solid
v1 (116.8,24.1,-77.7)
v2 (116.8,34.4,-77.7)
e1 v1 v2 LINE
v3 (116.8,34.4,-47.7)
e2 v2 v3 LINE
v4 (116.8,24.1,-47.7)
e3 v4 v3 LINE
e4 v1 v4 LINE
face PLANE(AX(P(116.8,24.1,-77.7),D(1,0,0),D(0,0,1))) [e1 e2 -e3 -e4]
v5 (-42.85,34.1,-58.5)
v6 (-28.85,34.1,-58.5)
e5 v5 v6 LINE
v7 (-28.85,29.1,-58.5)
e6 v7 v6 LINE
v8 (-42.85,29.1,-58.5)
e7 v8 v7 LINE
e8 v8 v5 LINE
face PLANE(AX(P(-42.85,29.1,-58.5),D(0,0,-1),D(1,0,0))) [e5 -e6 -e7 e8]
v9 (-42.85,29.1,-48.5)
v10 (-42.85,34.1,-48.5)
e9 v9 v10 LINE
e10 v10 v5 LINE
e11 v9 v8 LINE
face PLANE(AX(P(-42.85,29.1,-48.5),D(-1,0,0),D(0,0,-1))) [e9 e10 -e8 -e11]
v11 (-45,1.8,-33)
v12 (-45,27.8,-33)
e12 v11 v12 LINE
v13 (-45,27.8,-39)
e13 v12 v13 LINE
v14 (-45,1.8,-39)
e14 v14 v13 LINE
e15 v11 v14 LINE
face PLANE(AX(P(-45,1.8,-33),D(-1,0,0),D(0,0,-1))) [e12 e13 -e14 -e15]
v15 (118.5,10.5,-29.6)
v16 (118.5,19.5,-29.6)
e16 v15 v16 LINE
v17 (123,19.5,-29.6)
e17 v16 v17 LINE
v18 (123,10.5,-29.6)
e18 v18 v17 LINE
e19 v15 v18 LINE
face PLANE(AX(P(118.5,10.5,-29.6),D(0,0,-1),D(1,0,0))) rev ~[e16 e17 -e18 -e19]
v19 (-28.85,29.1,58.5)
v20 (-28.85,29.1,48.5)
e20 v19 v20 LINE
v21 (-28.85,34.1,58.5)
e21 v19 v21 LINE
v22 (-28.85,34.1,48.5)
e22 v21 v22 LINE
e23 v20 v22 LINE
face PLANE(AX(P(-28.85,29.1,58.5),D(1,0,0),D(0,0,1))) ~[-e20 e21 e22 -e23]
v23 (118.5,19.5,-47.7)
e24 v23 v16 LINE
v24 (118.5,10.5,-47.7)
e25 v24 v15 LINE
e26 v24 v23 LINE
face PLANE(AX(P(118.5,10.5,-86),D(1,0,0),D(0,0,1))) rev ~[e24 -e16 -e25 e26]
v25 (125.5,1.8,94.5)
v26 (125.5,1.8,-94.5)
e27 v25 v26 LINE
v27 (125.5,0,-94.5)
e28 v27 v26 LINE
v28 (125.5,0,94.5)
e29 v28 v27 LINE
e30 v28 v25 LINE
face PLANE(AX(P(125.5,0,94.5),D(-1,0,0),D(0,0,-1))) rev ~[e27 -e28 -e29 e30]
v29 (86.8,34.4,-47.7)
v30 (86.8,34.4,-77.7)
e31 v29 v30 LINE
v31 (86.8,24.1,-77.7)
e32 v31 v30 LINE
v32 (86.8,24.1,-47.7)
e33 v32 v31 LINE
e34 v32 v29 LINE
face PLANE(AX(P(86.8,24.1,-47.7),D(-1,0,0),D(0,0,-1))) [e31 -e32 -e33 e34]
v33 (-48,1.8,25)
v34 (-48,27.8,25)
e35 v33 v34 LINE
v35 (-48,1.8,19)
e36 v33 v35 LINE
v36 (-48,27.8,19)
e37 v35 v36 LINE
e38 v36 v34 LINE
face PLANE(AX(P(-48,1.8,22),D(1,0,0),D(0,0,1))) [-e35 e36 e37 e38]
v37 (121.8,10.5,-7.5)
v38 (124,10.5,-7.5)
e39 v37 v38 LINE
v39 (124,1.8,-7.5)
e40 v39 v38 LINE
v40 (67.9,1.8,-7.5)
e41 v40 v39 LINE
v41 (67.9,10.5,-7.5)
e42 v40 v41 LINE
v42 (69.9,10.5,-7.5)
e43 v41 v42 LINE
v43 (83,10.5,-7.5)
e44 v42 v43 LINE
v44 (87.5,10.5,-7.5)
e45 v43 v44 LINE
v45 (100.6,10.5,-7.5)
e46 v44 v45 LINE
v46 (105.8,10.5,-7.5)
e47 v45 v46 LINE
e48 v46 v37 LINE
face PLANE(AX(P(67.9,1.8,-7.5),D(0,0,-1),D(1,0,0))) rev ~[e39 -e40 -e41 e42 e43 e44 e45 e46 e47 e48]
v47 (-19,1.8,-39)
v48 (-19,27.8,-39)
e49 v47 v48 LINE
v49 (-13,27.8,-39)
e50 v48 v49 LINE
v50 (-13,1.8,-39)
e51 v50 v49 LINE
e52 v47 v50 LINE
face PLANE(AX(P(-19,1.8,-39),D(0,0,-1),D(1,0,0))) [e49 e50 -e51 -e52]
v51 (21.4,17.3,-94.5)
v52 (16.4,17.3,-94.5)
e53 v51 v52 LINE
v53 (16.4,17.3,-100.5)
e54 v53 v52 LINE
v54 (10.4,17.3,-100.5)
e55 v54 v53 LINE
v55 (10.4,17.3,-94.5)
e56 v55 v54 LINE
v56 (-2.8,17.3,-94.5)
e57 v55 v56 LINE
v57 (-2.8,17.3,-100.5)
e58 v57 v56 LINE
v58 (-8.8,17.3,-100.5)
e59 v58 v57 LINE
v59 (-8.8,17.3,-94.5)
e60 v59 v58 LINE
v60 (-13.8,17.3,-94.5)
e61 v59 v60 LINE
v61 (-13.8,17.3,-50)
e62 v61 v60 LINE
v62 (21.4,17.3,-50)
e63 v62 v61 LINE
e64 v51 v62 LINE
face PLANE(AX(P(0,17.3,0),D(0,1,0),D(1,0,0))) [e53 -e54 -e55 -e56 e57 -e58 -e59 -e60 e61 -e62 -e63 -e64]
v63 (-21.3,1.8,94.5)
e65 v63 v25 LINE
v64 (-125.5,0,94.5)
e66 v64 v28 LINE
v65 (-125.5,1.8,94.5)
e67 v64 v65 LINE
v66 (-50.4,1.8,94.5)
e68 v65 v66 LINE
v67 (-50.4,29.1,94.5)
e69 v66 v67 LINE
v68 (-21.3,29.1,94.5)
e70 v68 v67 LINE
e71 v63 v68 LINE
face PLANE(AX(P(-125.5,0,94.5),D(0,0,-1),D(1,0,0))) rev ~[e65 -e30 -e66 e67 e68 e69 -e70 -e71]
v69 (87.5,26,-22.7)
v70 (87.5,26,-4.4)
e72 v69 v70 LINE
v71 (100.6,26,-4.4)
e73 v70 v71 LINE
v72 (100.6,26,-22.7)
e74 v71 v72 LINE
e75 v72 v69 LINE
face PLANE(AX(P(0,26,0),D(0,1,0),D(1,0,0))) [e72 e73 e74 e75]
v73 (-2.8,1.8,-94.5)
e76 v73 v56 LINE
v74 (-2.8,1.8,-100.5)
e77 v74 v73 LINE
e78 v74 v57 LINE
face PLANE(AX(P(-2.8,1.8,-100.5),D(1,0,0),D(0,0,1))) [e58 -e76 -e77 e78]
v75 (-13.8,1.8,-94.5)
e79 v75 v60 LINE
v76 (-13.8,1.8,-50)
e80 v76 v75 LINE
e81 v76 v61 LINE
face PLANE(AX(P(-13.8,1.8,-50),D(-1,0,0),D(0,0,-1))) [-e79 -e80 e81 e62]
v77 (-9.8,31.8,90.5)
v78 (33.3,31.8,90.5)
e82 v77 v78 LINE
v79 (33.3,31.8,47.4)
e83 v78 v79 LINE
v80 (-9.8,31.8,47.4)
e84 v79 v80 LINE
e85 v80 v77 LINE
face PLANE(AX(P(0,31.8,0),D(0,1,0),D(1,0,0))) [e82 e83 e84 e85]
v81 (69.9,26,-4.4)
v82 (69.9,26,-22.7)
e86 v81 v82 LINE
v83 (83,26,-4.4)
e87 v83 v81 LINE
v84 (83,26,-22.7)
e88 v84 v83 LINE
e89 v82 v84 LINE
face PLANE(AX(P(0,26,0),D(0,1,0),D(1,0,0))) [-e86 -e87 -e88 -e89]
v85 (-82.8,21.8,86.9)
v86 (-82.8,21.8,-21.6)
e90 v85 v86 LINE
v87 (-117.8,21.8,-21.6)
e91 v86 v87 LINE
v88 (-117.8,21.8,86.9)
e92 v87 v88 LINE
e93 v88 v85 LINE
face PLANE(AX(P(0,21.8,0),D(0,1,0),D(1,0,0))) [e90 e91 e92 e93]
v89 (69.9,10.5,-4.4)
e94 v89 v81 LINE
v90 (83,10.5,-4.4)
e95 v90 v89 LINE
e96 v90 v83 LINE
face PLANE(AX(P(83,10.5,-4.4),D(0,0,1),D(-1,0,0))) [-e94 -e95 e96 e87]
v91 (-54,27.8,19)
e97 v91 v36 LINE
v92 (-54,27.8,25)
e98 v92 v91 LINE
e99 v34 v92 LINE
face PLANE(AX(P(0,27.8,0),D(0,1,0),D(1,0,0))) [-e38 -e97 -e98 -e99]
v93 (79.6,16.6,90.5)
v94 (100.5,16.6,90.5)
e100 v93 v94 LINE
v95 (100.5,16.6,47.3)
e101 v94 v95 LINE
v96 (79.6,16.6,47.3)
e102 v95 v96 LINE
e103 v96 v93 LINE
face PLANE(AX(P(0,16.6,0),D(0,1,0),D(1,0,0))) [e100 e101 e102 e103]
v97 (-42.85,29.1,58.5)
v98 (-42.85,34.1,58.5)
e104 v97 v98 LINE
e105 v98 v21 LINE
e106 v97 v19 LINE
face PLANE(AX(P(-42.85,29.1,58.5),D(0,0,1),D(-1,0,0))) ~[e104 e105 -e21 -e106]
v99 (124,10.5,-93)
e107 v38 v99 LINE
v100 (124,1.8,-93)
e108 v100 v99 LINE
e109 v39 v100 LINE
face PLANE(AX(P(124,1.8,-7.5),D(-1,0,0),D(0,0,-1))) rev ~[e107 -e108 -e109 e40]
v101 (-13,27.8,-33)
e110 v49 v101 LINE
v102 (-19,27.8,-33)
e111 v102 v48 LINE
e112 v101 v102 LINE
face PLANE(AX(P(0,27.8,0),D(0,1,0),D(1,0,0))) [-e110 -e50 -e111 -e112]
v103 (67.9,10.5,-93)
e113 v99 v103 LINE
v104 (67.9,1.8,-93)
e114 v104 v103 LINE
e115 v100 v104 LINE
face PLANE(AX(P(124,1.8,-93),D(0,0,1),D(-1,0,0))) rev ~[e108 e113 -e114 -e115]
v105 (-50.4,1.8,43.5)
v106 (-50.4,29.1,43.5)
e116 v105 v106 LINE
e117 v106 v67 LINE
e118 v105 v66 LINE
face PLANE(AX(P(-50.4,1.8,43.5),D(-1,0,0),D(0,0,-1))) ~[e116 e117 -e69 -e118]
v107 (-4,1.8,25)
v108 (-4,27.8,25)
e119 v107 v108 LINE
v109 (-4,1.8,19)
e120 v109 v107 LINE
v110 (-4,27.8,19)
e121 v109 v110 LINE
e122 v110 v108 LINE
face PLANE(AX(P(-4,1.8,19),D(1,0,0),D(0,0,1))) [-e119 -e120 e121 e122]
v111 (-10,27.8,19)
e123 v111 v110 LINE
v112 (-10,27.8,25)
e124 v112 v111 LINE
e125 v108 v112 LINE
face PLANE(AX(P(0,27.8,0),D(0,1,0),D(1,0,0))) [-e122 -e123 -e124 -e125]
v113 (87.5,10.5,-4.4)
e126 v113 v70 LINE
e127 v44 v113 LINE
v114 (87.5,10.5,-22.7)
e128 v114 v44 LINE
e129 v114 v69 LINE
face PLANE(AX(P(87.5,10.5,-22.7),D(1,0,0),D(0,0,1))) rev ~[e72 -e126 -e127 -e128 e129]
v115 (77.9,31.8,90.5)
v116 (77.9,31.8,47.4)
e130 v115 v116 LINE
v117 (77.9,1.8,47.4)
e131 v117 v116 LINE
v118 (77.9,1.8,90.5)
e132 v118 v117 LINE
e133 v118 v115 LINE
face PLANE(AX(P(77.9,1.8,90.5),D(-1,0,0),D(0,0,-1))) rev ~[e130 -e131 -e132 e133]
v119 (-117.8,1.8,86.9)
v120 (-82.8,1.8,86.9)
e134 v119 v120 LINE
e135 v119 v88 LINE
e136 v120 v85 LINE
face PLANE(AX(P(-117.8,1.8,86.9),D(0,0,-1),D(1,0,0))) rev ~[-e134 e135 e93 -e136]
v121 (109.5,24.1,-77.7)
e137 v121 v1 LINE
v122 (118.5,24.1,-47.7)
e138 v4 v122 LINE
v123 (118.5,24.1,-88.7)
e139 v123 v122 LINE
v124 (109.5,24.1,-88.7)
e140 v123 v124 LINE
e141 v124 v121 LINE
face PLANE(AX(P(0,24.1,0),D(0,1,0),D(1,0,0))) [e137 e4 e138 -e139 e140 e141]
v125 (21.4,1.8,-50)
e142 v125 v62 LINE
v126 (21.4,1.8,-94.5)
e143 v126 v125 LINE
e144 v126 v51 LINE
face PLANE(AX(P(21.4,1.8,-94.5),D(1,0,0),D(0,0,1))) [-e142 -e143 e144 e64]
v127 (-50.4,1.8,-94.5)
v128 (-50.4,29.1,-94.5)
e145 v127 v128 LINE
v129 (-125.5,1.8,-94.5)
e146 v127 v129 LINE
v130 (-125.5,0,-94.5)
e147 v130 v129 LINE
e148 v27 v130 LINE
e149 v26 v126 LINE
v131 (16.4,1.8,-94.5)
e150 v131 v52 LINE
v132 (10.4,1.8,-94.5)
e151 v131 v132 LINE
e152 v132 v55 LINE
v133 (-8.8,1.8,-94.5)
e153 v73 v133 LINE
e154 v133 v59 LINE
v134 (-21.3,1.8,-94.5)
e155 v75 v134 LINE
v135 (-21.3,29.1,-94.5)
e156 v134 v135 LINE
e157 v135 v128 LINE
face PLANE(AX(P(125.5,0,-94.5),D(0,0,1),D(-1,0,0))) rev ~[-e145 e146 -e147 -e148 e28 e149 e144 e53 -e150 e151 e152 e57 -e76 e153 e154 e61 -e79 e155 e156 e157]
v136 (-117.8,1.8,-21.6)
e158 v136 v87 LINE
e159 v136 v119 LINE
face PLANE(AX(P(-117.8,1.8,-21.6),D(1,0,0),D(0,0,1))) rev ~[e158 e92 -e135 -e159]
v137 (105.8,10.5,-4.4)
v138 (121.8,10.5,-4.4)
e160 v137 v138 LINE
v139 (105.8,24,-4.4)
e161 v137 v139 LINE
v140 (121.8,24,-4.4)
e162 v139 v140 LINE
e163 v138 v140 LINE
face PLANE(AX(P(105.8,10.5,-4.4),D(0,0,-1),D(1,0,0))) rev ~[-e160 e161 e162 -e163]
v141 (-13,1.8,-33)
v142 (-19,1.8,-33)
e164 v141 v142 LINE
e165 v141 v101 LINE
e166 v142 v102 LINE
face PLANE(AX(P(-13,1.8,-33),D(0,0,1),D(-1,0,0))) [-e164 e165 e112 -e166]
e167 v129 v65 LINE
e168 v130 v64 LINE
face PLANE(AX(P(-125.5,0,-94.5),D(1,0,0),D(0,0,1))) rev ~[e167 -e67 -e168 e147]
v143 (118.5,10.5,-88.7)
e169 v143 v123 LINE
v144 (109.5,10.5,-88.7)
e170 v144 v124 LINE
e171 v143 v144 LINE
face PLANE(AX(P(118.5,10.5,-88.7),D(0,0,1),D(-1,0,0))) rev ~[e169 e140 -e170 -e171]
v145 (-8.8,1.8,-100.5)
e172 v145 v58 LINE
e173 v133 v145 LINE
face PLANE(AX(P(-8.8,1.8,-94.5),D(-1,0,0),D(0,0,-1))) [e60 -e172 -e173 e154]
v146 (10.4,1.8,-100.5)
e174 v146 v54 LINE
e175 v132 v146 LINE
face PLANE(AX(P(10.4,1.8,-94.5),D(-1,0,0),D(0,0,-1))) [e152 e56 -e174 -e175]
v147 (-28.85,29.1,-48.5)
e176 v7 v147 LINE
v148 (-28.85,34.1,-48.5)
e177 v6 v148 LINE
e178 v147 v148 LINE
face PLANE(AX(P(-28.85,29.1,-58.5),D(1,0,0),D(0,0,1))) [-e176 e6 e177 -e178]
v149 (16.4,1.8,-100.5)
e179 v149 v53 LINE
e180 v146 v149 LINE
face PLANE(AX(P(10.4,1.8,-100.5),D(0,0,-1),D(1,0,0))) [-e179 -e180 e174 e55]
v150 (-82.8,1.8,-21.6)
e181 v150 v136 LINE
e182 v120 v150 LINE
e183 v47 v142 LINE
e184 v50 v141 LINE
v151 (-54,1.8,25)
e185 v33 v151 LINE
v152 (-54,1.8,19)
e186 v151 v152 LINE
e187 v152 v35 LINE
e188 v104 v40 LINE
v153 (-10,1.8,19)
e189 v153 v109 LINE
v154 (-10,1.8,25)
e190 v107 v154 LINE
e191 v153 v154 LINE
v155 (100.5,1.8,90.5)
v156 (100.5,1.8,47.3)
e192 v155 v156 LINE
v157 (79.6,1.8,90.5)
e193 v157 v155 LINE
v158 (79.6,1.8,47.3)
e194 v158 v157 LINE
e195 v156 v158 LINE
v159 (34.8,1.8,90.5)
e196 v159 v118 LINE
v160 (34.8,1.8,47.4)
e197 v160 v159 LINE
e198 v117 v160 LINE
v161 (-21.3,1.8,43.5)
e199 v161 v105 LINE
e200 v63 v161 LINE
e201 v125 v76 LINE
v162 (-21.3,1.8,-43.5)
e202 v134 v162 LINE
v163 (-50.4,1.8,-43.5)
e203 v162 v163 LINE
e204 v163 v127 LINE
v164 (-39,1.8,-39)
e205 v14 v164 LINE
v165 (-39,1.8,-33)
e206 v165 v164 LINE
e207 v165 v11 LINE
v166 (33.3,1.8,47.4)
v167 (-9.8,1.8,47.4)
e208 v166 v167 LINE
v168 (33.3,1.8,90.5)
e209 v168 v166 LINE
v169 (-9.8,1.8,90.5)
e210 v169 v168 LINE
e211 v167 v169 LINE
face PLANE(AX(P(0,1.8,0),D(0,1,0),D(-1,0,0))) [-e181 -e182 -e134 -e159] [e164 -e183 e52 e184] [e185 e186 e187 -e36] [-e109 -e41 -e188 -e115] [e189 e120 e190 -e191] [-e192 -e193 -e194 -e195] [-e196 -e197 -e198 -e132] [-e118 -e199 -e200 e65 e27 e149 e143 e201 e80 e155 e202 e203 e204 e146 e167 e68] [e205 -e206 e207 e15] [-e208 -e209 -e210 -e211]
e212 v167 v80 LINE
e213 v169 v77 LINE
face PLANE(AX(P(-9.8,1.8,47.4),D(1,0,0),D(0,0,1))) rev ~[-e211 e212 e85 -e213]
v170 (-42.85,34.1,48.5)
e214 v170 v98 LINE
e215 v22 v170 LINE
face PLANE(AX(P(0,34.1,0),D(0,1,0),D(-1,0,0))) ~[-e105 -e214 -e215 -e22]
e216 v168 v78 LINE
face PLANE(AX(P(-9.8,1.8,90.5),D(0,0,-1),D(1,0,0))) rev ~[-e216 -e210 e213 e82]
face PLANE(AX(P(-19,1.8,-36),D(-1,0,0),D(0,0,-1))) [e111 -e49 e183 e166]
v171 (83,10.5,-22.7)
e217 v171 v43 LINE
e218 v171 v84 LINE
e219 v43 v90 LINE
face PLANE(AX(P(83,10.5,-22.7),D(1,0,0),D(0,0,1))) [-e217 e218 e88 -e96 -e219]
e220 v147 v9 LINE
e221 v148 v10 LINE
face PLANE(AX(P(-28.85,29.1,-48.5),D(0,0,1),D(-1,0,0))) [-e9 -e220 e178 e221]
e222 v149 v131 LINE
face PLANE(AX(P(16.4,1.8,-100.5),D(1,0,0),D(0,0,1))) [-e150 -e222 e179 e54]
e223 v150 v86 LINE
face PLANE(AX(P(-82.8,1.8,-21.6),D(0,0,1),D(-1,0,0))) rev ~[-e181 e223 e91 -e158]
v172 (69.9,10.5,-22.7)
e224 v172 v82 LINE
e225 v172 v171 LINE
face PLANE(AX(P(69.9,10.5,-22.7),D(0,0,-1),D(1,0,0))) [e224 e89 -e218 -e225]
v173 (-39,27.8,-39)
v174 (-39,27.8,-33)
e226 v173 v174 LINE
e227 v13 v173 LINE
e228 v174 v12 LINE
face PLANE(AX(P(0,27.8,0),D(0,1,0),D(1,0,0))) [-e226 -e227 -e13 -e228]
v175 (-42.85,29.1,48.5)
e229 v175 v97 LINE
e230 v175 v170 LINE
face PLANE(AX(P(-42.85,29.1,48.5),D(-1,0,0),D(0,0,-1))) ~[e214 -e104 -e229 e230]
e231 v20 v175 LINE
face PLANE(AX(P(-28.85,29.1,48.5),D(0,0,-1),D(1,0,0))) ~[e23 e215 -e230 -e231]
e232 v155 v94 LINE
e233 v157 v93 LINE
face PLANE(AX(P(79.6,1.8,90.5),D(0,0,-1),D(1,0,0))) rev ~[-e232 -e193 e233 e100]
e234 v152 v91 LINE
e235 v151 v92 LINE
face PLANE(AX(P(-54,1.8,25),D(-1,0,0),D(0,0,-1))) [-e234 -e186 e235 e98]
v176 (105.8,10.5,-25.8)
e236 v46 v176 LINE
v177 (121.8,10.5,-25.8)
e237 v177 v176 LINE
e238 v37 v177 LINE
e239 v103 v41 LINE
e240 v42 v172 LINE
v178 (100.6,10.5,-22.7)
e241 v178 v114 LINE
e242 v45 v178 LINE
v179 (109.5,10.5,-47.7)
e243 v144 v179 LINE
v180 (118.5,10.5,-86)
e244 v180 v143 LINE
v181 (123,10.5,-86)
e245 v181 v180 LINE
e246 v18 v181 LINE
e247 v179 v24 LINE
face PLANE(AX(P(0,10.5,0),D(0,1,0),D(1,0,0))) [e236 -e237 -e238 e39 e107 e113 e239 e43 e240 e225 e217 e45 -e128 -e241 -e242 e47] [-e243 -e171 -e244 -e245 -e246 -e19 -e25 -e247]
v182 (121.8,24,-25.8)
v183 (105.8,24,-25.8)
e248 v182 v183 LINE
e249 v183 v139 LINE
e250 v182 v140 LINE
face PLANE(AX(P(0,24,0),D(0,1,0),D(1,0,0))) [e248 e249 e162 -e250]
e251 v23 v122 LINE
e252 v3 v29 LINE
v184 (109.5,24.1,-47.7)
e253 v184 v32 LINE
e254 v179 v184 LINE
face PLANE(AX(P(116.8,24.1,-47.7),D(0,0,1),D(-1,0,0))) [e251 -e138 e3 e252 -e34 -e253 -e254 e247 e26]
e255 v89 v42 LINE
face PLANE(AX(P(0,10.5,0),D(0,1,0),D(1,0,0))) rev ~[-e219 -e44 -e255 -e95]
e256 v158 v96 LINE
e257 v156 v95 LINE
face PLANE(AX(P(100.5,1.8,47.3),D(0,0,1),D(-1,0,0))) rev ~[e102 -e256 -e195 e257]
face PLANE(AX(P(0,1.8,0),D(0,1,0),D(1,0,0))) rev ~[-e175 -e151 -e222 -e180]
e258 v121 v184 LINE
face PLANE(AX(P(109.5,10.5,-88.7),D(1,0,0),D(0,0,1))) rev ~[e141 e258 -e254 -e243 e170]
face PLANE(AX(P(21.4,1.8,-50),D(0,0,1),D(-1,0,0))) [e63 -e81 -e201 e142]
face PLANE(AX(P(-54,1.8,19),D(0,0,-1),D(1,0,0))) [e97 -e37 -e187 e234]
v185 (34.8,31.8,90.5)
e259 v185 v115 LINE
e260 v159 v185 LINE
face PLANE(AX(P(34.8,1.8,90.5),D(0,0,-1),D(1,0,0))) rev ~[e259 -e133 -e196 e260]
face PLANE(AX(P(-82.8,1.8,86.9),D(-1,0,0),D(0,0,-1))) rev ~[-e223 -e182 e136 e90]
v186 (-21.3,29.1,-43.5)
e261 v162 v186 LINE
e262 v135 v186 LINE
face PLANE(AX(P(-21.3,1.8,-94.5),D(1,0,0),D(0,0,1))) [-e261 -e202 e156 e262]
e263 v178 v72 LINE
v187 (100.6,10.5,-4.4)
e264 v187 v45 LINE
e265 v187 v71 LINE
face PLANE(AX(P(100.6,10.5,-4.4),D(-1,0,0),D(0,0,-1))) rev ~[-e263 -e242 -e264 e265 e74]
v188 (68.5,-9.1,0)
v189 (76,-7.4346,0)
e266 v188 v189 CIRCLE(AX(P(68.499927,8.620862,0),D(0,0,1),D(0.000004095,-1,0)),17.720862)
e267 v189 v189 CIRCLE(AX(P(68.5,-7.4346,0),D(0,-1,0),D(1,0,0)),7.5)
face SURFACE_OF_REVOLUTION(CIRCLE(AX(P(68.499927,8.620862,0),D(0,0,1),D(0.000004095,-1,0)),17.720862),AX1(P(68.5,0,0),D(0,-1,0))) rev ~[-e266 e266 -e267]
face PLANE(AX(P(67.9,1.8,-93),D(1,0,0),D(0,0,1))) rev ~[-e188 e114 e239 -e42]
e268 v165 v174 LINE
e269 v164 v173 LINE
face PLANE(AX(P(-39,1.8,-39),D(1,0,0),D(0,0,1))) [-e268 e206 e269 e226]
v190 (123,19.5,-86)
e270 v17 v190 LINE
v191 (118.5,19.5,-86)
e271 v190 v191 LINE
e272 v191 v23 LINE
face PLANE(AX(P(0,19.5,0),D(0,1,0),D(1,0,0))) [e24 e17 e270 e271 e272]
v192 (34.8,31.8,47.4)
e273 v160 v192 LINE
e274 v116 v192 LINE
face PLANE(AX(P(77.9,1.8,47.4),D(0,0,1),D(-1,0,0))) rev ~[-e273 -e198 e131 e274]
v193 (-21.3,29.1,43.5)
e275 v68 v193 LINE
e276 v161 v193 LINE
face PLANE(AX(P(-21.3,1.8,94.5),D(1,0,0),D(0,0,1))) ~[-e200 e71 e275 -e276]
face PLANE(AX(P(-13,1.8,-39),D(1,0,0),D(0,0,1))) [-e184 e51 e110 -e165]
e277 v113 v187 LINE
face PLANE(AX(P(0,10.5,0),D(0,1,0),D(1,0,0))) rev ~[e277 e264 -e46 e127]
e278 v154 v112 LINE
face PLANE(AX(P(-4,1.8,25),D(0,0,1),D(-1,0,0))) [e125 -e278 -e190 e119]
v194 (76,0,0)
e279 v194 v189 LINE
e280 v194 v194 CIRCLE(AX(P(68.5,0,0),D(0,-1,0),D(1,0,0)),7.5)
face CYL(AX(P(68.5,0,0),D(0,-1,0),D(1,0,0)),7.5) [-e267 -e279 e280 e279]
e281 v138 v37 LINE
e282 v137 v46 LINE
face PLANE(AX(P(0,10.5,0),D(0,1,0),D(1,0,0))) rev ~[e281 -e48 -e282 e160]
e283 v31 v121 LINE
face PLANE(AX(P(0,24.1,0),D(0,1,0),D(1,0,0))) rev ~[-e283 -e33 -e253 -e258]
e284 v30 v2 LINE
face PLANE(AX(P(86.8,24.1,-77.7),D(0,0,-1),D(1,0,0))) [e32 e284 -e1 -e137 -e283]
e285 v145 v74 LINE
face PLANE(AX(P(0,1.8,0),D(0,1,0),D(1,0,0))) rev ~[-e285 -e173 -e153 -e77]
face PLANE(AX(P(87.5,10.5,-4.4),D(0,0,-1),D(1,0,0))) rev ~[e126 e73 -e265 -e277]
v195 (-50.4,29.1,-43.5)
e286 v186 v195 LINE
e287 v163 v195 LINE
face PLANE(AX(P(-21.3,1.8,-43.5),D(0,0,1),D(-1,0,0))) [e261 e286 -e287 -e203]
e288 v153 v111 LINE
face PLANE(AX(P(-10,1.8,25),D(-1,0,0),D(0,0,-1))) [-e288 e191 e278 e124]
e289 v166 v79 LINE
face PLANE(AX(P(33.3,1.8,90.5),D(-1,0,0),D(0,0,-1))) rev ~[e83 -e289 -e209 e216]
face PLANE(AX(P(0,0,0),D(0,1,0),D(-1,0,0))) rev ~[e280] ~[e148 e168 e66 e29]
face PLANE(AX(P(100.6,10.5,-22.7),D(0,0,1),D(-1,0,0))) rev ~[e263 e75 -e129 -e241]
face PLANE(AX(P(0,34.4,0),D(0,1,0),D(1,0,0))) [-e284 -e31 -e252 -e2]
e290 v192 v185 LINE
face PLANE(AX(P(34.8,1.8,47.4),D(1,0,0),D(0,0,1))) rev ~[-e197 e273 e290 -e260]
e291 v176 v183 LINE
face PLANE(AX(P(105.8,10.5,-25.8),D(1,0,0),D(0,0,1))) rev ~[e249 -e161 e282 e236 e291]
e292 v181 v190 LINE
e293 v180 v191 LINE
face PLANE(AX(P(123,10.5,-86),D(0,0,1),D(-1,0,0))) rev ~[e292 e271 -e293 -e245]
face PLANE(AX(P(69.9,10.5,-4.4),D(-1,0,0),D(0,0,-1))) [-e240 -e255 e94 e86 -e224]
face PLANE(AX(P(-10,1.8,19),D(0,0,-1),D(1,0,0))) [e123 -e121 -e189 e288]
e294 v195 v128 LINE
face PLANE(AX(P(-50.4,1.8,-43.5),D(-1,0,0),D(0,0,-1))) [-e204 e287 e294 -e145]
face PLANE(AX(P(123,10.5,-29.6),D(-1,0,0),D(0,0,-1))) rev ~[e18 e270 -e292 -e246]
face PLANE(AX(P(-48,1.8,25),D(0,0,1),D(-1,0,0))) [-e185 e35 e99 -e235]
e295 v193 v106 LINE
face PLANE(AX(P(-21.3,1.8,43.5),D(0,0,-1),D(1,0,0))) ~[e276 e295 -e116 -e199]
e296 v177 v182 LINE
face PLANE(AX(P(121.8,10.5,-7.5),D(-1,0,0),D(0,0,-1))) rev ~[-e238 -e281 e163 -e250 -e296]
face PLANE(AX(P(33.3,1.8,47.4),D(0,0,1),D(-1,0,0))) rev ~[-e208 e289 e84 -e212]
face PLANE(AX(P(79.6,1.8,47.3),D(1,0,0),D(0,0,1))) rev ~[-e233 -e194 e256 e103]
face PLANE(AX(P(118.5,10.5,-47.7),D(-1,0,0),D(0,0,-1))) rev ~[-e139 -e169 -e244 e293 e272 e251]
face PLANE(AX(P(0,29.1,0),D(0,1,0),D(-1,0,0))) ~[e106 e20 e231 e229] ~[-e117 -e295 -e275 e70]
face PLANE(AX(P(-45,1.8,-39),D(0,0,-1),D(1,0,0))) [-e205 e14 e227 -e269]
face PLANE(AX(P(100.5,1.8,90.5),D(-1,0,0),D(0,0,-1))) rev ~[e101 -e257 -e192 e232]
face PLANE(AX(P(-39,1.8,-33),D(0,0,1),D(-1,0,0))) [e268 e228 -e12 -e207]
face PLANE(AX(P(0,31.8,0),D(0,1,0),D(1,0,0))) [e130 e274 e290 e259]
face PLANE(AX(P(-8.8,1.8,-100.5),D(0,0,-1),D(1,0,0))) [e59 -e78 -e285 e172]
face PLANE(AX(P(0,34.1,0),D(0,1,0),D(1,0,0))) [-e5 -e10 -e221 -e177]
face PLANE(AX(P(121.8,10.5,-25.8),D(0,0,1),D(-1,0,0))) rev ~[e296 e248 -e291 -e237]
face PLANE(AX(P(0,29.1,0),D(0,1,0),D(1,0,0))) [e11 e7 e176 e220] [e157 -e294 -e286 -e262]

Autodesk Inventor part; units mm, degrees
ref_plane "YZ Plane" through (0, 0, 0) normal (1, 0, 0) x (0, 1, 0)
ref_plane "XZ Plane" through (0, 0, 0) normal (0, 1, 0) x (-1, 0, 0)
ref_plane "XY Plane" through (0, 0, 0) normal (0, 0, 1) x (1, 0, 0)
sketch "Esquisse1" plane through (0, 0, 0) normal (0, 1, 0) x (-1, 0, 0)
  line L0 (125.5, 94.5) -> (-125.5, 94.5)
  line L1 (-125.5, 94.5) -> (-125.5, -94.5)
  line L2 (-125.5, -94.5) -> (125.5, -94.5)
  line L3 (125.5, -94.5) -> (125.5, 94.5)
  line L4 (125.5, 94.5) -> (-125.5, -94.5) construction
  line L5 (-125.5, 94.5) -> (125.5, -94.5) construction
  point P0 (0, 0)
  dimension "d0" = 251
  dimension "d1" = 189
extrude "Extrusion1" add sketch "Esquisse1" along normal blind 1.8
sketch "Esquisse2" plane through (0, 1.8, 0) normal (0, 1, 0) x (1, 0, 0)
  line L0 (124, 93) -> (67.9, 93)
  line L1 (67.9, 93) -> (67.9, 7.5)
  line L2 (67.9, 7.5) -> (124, 7.5)
  line L3 (124, 7.5) -> (124, 93)
  line L4 (125.5, 94.5) -> (-125.5, 94.5) projected
  line L5 (125.5, -94.5) -> (125.5, 94.5) projected
  point P0 (0, 0)
  dimension "d4" = 1.5
  dimension "d5" = 1.5
  dimension "d6" = 56.1
  dimension "d7" = 85.5
extrude "Extrusion2" add sketch "Esquisse2" along normal blind 8.7
sketch "Esquisse3" plane through (0, 10.5, 0) normal (0, 1, 0) x (1, 0, 0)
  line L0 (121.8, 25.8) -> (105.8, 25.8)
  line L1 (105.8, 25.8) -> (105.8, 4.4)
  line L2 (105.8, 4.4) -> (121.8, 4.4)
  line L3 (121.8, 4.4) -> (121.8, 25.8)
  line L4 (124, 7.5) -> (124, 93) projected
  line L5 (67.9, 7.5) -> (124, 7.5) projected
  point P0 (0, 0)
  dimension "d10" = 21.4
  dimension "d11" = 16
  dimension "d12" = 2.2
  dimension "d13" = 3.1
extrude "Extrusion3" add sketch "Esquisse3" along normal blind 13.5
sketch "Esquisse4" plane through (0, 10.5, 0) normal (0, 1, 0) x (1, 0, 0)
  line L0 (69.9, 22.7) -> (83, 22.7)
  line L1 (83, 22.7) -> (83, 4.4)
  line L2 (83, 4.4) -> (69.9, 4.4)
  line L3 (69.9, 4.4) -> (69.9, 22.7)
  line L4 (67.9, 93) -> (67.9, 7.5) projected
  line L5 (105.8, 4.4) -> (121.8, 4.4) projected
  line L6 (87.5, 4.4) -> (100.6, 4.4)
  line L7 (100.6, 4.4) -> (100.6, 22.7)
  line L8 (100.6, 22.7) -> (87.5, 22.7)
  line L9 (87.5, 22.7) -> (87.5, 4.4)
  point P0 (0, 0)
  point P1 (76.45, 4.4)
  point P2 (76.45, 22.7)
  dimension "d16" = 13.1
  dimension "d17" = 18.3
  dimension "d18" = 2
  dimension "d19" = 4.5
  dimension "d20" = 13.1
extrude "Extrusion4" add sketch "Esquisse4" along normal blind 15.5
sketch "Esquisse5" plane through (0, 10.5, 0) normal (0, 1, 0) x (1, 0, 0)
  line L0 (123, 86) -> (118.5, 86)
  line L1 (118.5, 86) -> (118.5, 29.6)
  line L2 (118.5, 29.6) -> (123, 29.6)
  line L3 (123, 29.6) -> (123, 86)
  line L4 (124, 7.5) -> (124, 93) projected
  line L5 (124, 93) -> (67.9, 93) projected
  point P0 (0, 0)
  dimension "d23" = 56.4
  dimension "d24" = 4.5
  dimension "d25" = 1
  dimension "d26" = 7
extrude "Extrusion5" add sketch "Esquisse5" along normal blind 9
sketch "Esquisse6" plane through (0, 10.5, 0) normal (0, 1, 0) x (1, 0, 0)
  line L0 (118.5, 29.6) -> (118.5, 86) projected
  line L1 (118.5, 86) -> (118.5, 88.7)
  line L2 (118.5, 88.7) -> (109.5, 88.7)
  line L3 (109.5, 88.7) -> (109.5, 47.7)
  line L4 (109.5, 47.7) -> (118.5, 47.7)
  line L5 (124, 93) -> (67.9, 93) projected
  point P0 (0, 0)
  dimension "d29" = 9
  dimension "d30" = 41
  dimension "d31" = 4.3
extrude "Extrusion6" add sketch "Esquisse6" along normal blind 13.6
sketch "Esquisse7" plane through (0, 24.1, 0) normal (0, 1, 0) x (1, 0, 0)
  line L0 (118.5, 47.7) -> (109.5, 47.7) projected
  line L1 (116.8, 47.7) -> (86.8, 47.7)
  line L2 (86.8, 47.7) -> (86.8, 77.7)
  line L3 (86.8, 77.7) -> (116.8, 77.7)
  line L4 (116.8, 77.7) -> (116.8, 47.7)
  line L5 (118.5, 47.7) -> (118.5, 88.7) projected
  point P0 (0, 0)
  dimension "d34" = 30
  dimension "d35" = 30
  dimension "d36" = 1.7
extrude "Extrusion7" add sketch "Esquisse7" along normal blind 10.3
sketch "Esquisse8" plane through (0, 1.8, 0) normal (0, 1, 0) x (1, 0, 0)
  line L0 (125.5, 94.5) -> (-125.5, 94.5) projected
  line L1 (-50.4, 94.5) -> (-21.3, 94.5)
  line L2 (-21.3, 94.5) -> (-21.3, 43.5)
  line L3 (-21.3, 43.5) -> (-50.4, 43.5)
  line L4 (-50.4, 43.5) -> (-50.4, 94.5)
  line L5 (-125.5, 94.5) -> (-125.5, -94.5) projected
  point P0 (0, 0)
  dimension "d39" = 75.1
  dimension "d40" = 29.1
  dimension "d41" = 51
extrude "Extrusion8" add sketch "Esquisse8" along normal blind 27.3
sketch "Esquisse9" plane through (0, 29.1, 0) normal (0, 1, 0) x (1, 0, 0)
  line L0 (-28.85, 48.5) -> (-42.85, 48.5)
  line L1 (-42.85, 48.5) -> (-42.85, 58.5)
  line L2 (-42.85, 58.5) -> (-28.85, 58.5)
  line L3 (-28.85, 58.5) -> (-28.85, 48.5)
  line L4 (-21.3, 43.5) -> (-21.3, 94.5) projected
  line L5 (-50.4, 94.5) -> (-50.4, 43.5) projected
  line L6 (-21.3, 94.5) -> (-50.4, 94.5) projected
  point P0 (0, 0)
  dimension "d44" = 10
  dimension "d45" = 14
  dimension "d46" = 7.55
  dimension "d47" = 7.55
  dimension "d48" = 36
extrude "Extrusion9" add sketch "Esquisse9" along normal blind 5
mirror "Symétrie1" about plane through (0, 0, 0) normal (0, 0, 1) of "Extrusion8", "Extrusion9"
sketch "Esquisse10" plane through (0, 1.8, 0) normal (0, 1, 0) x (1, 0, 0)
  line L0 (125.5, 94.5) -> (-21.3, 94.5) projected
  line L1 (-13.8, 94.5) -> (21.4, 94.5)
  line L2 (21.4, 94.5) -> (21.4, 50)
  line L3 (21.4, 50) -> (-13.8, 50)
  line L4 (-13.8, 50) -> (-13.8, 94.5)
  line L5 (16.4, 94.5) -> (10.4, 94.5)
  line L6 (10.4, 94.5) -> (10.4, 100.5)
  line L7 (10.4, 100.5) -> (16.4, 100.5)
  line L8 (16.4, 100.5) -> (16.4, 94.5)
  line L9 (-2.8, 94.5) -> (-8.8, 94.5)
  line L10 (-8.8, 94.5) -> (-8.8, 100.5)
  line L11 (-8.8, 100.5) -> (-2.8, 100.5)
  line L12 (-2.8, 100.5) -> (-2.8, 94.5)
  line L13 (-21.3, 43.5) -> (-21.3, 94.5) projected
  point P0 (0, 0)
  point P1 (21.4, 94.5)
  point P2 (-2.8, 94.5)
  point P3 (-8.8, 94.5)
  dimension "d51" = 44.5
  dimension "d52" = 35.2
  dimension "d53" = 6
  dimension "d54" = 6
  dimension "d55" = 6
  dimension "d56" = 5
  dimension "d57" = 5
  dimension "d115" = 7.5
extrude "Extrusion10" add sketch "Esquisse10" along normal blind 15.5
sketch "Esquisse11" plane through (0, 1.8, 0) normal (0, 1, 0) x (1, 0, 0)
  line L0 (-9.8, -90.5) -> (33.3, -90.5)
  line L1 (33.3, -90.5) -> (33.3, -47.4)
  line L2 (33.3, -47.4) -> (-9.8, -47.4)
  line L3 (-9.8, -47.4) -> (-9.8, -90.5)
  line L4 (34.8, -90.5) -> (77.9, -90.5)
  line L5 (77.9, -90.5) -> (77.9, -47.4)
  line L6 (77.9, -47.4) -> (34.8, -47.4)
  line L7 (34.8, -47.4) -> (34.8, -90.5)
  line L8 (-21.3, -94.5) -> (125.5, -94.5) projected
  line L9 (-21.3, -43.5) -> (-21.3, -94.5) projected
  point P0 (0, 0)
  dimension "d60" = 43.1
  dimension "d61" = 43.1
  dimension "d62" = 43.1
  dimension "d63" = 4
  dimension "d64" = 1.5
  dimension "d65" = 11.5
extrude "Extrusion11" add sketch "Esquisse11" along normal blind 30
sketch "Esquisse12" plane through (0, 1.8, 0) normal (0, 1, 0) x (1, 0, 0)
  line L0 (-117.8, -86.9) -> (-82.8, -86.9)
  line L1 (-82.8, -86.9) -> (-82.8, 21.6)
  line L2 (-82.8, 21.6) -> (-117.8, 21.6)
  line L3 (-117.8, 21.6) -> (-117.8, -86.9)
  line L4 (-125.5, -94.5) -> (-50.4, -94.5) projected
  line L5 (-125.5, 94.5) -> (-125.5, -94.5) projected
  point P0 (0, 0)
  dimension "d68" = 108.5
  dimension "d69" = 35
  dimension "d70" = 7.6
  dimension "d71" = 7.7
extrude "Extrusion12" add sketch "Esquisse12" along normal blind 20
sketch "Esquisse13" plane through (0, 1.8, 0) normal (0, 1, 0) x (1, 0, 0)
  line L0 (-21.3, -43.5) -> (-21.3, -94.5) projected
  line L1 (-4, -25) -> (-10, -25)
  line L2 (-10, -25) -> (-10, -19)
  line L3 (-10, -19) -> (-4, -19)
  line L4 (-4, -19) -> (-4, -25)
  line L5 (-4, -25) -> (-10, -19) construction
  line L6 (-10, -25) -> (-4, -19) construction
  line L7 (-48, -25) -> (-54, -25)
  line L8 (-54, -25) -> (-54, -19)
  line L9 (-54, -19) -> (-48, -19)
  line L10 (-48, -19) -> (-48, -25)
  line L11 (-48, -25) -> (-54, -19) construction
  line L12 (-54, -25) -> (-48, -19) construction
  line L13 (-7, -22) -> (-51, -22)
  line L14 (-125.5, -94.5) -> (-50.4, -94.5) projected
  line L15 (-125.5, 94.5) -> (-125.5, -94.5) projected
  line L16 (-39, 33) -> (-45, 33)
  line L17 (-45, 33) -> (-45, 39)
  line L18 (-45, 39) -> (-39, 39)
  line L19 (-39, 39) -> (-39, 33)
  line L20 (-39, 33) -> (-45, 39) construction
  line L21 (-45, 33) -> (-39, 39) construction
  line L22 (-42, 36) -> (-16, 36)
  line L23 (-13, 33) -> (-19, 33)
  line L24 (-19, 33) -> (-19, 39)
  line L25 (-19, 39) -> (-13, 39)
  line L26 (-13, 39) -> (-13, 33)
  line L27 (-13, 33) -> (-19, 39) construction
  line L28 (-19, 33) -> (-13, 39) construction
  point P0 (0, 0)
  dimension "d87" = 6
  dimension "d88" = 6
  dimension "d89" = 6
  dimension "d90" = 6
  dimension "d91" = 72.5
  dimension "d92" = 74.5
  dimension "d93" = 44
  dimension "d94" = 6
  dimension "d95" = 6
  dimension "d96" = 6
  dimension "d97" = 6
  dimension "d98" = 58
  dimension "d99" = 9
  dimension "d101" = 26
  dimension "d102" = 9
extrude "Extrusion13" add sketch "Esquisse13" along normal blind 26
sketch "Esquisse14" plane through (0, 0, 0) normal (0, 0, 1) x (1, 0, 0)
  line L0 (125.5, 0) -> (-125.5, 0) projected
  line L1 (76, 0) -> (76, -7.4346)
  line L2 (68.5, 0) -> (68.5, -9.1)
  arc A0 (68.5, -9.1) -> (76, -7.4346) centre (68.5, 8.6202) ccw
  line L3 (125.5, 0) -> (125.5, 1.8) projected
  point P0 (0, 0)
  dimension "d105" = 9.1
  dimension "d106" = 7.5
  dimension "d107" = 49.5
revolve "Révolution1" add sketch "Esquisse14" angle 360 about axis through (68.5, 0, 0) along (0, -1, 0)
sketch "Esquisse15" plane through (0, 1.8, 0) normal (0, 1, 0) x (1, 0, 0)
  line L0 (79.6, -90.5) -> (100.5, -90.5)
  line L1 (100.5, -90.5) -> (100.5, -47.3)
  line L2 (100.5, -47.3) -> (79.6, -47.3)
  line L3 (79.6, -47.3) -> (79.6, -90.5)
  line L4 (-21.3, -94.5) -> (125.5, -94.5) projected
  line L5 (34.8, -90.5) -> (77.9, -90.5) projected
  line L6 (77.9, -90.5) -> (77.9, -47.4) projected
  point P0 (0, 0)
  dimension "d109" = 20.9
  dimension "d110" = 43.2
  dimension "d112" = 1.7
extrude "Extrusion14" add sketch "Esquisse15" along normal blind 14.8
equation "\"d5\" = d4"
equation "\"d20\" = d16"
equation "\"d35\" = d34"
equation "\"d46\" = d47"
equation "\"d54\" = d53"
equation "\"d55\" = d53"
equation "\"d57\" = d56"
equation "\"d61\" = d60"
equation "\"d62\" = d60"
equation "\"d88\" = d87"
equation "\"d89\" = d88"
equation "\"d90\" = d87"
equation "\"d94\" = d88"
equation "\"d95\" = d94"
equation "\"d96\" = d95"
equation "\"d97\" = d94"
equation "\"d99\" = d102"
